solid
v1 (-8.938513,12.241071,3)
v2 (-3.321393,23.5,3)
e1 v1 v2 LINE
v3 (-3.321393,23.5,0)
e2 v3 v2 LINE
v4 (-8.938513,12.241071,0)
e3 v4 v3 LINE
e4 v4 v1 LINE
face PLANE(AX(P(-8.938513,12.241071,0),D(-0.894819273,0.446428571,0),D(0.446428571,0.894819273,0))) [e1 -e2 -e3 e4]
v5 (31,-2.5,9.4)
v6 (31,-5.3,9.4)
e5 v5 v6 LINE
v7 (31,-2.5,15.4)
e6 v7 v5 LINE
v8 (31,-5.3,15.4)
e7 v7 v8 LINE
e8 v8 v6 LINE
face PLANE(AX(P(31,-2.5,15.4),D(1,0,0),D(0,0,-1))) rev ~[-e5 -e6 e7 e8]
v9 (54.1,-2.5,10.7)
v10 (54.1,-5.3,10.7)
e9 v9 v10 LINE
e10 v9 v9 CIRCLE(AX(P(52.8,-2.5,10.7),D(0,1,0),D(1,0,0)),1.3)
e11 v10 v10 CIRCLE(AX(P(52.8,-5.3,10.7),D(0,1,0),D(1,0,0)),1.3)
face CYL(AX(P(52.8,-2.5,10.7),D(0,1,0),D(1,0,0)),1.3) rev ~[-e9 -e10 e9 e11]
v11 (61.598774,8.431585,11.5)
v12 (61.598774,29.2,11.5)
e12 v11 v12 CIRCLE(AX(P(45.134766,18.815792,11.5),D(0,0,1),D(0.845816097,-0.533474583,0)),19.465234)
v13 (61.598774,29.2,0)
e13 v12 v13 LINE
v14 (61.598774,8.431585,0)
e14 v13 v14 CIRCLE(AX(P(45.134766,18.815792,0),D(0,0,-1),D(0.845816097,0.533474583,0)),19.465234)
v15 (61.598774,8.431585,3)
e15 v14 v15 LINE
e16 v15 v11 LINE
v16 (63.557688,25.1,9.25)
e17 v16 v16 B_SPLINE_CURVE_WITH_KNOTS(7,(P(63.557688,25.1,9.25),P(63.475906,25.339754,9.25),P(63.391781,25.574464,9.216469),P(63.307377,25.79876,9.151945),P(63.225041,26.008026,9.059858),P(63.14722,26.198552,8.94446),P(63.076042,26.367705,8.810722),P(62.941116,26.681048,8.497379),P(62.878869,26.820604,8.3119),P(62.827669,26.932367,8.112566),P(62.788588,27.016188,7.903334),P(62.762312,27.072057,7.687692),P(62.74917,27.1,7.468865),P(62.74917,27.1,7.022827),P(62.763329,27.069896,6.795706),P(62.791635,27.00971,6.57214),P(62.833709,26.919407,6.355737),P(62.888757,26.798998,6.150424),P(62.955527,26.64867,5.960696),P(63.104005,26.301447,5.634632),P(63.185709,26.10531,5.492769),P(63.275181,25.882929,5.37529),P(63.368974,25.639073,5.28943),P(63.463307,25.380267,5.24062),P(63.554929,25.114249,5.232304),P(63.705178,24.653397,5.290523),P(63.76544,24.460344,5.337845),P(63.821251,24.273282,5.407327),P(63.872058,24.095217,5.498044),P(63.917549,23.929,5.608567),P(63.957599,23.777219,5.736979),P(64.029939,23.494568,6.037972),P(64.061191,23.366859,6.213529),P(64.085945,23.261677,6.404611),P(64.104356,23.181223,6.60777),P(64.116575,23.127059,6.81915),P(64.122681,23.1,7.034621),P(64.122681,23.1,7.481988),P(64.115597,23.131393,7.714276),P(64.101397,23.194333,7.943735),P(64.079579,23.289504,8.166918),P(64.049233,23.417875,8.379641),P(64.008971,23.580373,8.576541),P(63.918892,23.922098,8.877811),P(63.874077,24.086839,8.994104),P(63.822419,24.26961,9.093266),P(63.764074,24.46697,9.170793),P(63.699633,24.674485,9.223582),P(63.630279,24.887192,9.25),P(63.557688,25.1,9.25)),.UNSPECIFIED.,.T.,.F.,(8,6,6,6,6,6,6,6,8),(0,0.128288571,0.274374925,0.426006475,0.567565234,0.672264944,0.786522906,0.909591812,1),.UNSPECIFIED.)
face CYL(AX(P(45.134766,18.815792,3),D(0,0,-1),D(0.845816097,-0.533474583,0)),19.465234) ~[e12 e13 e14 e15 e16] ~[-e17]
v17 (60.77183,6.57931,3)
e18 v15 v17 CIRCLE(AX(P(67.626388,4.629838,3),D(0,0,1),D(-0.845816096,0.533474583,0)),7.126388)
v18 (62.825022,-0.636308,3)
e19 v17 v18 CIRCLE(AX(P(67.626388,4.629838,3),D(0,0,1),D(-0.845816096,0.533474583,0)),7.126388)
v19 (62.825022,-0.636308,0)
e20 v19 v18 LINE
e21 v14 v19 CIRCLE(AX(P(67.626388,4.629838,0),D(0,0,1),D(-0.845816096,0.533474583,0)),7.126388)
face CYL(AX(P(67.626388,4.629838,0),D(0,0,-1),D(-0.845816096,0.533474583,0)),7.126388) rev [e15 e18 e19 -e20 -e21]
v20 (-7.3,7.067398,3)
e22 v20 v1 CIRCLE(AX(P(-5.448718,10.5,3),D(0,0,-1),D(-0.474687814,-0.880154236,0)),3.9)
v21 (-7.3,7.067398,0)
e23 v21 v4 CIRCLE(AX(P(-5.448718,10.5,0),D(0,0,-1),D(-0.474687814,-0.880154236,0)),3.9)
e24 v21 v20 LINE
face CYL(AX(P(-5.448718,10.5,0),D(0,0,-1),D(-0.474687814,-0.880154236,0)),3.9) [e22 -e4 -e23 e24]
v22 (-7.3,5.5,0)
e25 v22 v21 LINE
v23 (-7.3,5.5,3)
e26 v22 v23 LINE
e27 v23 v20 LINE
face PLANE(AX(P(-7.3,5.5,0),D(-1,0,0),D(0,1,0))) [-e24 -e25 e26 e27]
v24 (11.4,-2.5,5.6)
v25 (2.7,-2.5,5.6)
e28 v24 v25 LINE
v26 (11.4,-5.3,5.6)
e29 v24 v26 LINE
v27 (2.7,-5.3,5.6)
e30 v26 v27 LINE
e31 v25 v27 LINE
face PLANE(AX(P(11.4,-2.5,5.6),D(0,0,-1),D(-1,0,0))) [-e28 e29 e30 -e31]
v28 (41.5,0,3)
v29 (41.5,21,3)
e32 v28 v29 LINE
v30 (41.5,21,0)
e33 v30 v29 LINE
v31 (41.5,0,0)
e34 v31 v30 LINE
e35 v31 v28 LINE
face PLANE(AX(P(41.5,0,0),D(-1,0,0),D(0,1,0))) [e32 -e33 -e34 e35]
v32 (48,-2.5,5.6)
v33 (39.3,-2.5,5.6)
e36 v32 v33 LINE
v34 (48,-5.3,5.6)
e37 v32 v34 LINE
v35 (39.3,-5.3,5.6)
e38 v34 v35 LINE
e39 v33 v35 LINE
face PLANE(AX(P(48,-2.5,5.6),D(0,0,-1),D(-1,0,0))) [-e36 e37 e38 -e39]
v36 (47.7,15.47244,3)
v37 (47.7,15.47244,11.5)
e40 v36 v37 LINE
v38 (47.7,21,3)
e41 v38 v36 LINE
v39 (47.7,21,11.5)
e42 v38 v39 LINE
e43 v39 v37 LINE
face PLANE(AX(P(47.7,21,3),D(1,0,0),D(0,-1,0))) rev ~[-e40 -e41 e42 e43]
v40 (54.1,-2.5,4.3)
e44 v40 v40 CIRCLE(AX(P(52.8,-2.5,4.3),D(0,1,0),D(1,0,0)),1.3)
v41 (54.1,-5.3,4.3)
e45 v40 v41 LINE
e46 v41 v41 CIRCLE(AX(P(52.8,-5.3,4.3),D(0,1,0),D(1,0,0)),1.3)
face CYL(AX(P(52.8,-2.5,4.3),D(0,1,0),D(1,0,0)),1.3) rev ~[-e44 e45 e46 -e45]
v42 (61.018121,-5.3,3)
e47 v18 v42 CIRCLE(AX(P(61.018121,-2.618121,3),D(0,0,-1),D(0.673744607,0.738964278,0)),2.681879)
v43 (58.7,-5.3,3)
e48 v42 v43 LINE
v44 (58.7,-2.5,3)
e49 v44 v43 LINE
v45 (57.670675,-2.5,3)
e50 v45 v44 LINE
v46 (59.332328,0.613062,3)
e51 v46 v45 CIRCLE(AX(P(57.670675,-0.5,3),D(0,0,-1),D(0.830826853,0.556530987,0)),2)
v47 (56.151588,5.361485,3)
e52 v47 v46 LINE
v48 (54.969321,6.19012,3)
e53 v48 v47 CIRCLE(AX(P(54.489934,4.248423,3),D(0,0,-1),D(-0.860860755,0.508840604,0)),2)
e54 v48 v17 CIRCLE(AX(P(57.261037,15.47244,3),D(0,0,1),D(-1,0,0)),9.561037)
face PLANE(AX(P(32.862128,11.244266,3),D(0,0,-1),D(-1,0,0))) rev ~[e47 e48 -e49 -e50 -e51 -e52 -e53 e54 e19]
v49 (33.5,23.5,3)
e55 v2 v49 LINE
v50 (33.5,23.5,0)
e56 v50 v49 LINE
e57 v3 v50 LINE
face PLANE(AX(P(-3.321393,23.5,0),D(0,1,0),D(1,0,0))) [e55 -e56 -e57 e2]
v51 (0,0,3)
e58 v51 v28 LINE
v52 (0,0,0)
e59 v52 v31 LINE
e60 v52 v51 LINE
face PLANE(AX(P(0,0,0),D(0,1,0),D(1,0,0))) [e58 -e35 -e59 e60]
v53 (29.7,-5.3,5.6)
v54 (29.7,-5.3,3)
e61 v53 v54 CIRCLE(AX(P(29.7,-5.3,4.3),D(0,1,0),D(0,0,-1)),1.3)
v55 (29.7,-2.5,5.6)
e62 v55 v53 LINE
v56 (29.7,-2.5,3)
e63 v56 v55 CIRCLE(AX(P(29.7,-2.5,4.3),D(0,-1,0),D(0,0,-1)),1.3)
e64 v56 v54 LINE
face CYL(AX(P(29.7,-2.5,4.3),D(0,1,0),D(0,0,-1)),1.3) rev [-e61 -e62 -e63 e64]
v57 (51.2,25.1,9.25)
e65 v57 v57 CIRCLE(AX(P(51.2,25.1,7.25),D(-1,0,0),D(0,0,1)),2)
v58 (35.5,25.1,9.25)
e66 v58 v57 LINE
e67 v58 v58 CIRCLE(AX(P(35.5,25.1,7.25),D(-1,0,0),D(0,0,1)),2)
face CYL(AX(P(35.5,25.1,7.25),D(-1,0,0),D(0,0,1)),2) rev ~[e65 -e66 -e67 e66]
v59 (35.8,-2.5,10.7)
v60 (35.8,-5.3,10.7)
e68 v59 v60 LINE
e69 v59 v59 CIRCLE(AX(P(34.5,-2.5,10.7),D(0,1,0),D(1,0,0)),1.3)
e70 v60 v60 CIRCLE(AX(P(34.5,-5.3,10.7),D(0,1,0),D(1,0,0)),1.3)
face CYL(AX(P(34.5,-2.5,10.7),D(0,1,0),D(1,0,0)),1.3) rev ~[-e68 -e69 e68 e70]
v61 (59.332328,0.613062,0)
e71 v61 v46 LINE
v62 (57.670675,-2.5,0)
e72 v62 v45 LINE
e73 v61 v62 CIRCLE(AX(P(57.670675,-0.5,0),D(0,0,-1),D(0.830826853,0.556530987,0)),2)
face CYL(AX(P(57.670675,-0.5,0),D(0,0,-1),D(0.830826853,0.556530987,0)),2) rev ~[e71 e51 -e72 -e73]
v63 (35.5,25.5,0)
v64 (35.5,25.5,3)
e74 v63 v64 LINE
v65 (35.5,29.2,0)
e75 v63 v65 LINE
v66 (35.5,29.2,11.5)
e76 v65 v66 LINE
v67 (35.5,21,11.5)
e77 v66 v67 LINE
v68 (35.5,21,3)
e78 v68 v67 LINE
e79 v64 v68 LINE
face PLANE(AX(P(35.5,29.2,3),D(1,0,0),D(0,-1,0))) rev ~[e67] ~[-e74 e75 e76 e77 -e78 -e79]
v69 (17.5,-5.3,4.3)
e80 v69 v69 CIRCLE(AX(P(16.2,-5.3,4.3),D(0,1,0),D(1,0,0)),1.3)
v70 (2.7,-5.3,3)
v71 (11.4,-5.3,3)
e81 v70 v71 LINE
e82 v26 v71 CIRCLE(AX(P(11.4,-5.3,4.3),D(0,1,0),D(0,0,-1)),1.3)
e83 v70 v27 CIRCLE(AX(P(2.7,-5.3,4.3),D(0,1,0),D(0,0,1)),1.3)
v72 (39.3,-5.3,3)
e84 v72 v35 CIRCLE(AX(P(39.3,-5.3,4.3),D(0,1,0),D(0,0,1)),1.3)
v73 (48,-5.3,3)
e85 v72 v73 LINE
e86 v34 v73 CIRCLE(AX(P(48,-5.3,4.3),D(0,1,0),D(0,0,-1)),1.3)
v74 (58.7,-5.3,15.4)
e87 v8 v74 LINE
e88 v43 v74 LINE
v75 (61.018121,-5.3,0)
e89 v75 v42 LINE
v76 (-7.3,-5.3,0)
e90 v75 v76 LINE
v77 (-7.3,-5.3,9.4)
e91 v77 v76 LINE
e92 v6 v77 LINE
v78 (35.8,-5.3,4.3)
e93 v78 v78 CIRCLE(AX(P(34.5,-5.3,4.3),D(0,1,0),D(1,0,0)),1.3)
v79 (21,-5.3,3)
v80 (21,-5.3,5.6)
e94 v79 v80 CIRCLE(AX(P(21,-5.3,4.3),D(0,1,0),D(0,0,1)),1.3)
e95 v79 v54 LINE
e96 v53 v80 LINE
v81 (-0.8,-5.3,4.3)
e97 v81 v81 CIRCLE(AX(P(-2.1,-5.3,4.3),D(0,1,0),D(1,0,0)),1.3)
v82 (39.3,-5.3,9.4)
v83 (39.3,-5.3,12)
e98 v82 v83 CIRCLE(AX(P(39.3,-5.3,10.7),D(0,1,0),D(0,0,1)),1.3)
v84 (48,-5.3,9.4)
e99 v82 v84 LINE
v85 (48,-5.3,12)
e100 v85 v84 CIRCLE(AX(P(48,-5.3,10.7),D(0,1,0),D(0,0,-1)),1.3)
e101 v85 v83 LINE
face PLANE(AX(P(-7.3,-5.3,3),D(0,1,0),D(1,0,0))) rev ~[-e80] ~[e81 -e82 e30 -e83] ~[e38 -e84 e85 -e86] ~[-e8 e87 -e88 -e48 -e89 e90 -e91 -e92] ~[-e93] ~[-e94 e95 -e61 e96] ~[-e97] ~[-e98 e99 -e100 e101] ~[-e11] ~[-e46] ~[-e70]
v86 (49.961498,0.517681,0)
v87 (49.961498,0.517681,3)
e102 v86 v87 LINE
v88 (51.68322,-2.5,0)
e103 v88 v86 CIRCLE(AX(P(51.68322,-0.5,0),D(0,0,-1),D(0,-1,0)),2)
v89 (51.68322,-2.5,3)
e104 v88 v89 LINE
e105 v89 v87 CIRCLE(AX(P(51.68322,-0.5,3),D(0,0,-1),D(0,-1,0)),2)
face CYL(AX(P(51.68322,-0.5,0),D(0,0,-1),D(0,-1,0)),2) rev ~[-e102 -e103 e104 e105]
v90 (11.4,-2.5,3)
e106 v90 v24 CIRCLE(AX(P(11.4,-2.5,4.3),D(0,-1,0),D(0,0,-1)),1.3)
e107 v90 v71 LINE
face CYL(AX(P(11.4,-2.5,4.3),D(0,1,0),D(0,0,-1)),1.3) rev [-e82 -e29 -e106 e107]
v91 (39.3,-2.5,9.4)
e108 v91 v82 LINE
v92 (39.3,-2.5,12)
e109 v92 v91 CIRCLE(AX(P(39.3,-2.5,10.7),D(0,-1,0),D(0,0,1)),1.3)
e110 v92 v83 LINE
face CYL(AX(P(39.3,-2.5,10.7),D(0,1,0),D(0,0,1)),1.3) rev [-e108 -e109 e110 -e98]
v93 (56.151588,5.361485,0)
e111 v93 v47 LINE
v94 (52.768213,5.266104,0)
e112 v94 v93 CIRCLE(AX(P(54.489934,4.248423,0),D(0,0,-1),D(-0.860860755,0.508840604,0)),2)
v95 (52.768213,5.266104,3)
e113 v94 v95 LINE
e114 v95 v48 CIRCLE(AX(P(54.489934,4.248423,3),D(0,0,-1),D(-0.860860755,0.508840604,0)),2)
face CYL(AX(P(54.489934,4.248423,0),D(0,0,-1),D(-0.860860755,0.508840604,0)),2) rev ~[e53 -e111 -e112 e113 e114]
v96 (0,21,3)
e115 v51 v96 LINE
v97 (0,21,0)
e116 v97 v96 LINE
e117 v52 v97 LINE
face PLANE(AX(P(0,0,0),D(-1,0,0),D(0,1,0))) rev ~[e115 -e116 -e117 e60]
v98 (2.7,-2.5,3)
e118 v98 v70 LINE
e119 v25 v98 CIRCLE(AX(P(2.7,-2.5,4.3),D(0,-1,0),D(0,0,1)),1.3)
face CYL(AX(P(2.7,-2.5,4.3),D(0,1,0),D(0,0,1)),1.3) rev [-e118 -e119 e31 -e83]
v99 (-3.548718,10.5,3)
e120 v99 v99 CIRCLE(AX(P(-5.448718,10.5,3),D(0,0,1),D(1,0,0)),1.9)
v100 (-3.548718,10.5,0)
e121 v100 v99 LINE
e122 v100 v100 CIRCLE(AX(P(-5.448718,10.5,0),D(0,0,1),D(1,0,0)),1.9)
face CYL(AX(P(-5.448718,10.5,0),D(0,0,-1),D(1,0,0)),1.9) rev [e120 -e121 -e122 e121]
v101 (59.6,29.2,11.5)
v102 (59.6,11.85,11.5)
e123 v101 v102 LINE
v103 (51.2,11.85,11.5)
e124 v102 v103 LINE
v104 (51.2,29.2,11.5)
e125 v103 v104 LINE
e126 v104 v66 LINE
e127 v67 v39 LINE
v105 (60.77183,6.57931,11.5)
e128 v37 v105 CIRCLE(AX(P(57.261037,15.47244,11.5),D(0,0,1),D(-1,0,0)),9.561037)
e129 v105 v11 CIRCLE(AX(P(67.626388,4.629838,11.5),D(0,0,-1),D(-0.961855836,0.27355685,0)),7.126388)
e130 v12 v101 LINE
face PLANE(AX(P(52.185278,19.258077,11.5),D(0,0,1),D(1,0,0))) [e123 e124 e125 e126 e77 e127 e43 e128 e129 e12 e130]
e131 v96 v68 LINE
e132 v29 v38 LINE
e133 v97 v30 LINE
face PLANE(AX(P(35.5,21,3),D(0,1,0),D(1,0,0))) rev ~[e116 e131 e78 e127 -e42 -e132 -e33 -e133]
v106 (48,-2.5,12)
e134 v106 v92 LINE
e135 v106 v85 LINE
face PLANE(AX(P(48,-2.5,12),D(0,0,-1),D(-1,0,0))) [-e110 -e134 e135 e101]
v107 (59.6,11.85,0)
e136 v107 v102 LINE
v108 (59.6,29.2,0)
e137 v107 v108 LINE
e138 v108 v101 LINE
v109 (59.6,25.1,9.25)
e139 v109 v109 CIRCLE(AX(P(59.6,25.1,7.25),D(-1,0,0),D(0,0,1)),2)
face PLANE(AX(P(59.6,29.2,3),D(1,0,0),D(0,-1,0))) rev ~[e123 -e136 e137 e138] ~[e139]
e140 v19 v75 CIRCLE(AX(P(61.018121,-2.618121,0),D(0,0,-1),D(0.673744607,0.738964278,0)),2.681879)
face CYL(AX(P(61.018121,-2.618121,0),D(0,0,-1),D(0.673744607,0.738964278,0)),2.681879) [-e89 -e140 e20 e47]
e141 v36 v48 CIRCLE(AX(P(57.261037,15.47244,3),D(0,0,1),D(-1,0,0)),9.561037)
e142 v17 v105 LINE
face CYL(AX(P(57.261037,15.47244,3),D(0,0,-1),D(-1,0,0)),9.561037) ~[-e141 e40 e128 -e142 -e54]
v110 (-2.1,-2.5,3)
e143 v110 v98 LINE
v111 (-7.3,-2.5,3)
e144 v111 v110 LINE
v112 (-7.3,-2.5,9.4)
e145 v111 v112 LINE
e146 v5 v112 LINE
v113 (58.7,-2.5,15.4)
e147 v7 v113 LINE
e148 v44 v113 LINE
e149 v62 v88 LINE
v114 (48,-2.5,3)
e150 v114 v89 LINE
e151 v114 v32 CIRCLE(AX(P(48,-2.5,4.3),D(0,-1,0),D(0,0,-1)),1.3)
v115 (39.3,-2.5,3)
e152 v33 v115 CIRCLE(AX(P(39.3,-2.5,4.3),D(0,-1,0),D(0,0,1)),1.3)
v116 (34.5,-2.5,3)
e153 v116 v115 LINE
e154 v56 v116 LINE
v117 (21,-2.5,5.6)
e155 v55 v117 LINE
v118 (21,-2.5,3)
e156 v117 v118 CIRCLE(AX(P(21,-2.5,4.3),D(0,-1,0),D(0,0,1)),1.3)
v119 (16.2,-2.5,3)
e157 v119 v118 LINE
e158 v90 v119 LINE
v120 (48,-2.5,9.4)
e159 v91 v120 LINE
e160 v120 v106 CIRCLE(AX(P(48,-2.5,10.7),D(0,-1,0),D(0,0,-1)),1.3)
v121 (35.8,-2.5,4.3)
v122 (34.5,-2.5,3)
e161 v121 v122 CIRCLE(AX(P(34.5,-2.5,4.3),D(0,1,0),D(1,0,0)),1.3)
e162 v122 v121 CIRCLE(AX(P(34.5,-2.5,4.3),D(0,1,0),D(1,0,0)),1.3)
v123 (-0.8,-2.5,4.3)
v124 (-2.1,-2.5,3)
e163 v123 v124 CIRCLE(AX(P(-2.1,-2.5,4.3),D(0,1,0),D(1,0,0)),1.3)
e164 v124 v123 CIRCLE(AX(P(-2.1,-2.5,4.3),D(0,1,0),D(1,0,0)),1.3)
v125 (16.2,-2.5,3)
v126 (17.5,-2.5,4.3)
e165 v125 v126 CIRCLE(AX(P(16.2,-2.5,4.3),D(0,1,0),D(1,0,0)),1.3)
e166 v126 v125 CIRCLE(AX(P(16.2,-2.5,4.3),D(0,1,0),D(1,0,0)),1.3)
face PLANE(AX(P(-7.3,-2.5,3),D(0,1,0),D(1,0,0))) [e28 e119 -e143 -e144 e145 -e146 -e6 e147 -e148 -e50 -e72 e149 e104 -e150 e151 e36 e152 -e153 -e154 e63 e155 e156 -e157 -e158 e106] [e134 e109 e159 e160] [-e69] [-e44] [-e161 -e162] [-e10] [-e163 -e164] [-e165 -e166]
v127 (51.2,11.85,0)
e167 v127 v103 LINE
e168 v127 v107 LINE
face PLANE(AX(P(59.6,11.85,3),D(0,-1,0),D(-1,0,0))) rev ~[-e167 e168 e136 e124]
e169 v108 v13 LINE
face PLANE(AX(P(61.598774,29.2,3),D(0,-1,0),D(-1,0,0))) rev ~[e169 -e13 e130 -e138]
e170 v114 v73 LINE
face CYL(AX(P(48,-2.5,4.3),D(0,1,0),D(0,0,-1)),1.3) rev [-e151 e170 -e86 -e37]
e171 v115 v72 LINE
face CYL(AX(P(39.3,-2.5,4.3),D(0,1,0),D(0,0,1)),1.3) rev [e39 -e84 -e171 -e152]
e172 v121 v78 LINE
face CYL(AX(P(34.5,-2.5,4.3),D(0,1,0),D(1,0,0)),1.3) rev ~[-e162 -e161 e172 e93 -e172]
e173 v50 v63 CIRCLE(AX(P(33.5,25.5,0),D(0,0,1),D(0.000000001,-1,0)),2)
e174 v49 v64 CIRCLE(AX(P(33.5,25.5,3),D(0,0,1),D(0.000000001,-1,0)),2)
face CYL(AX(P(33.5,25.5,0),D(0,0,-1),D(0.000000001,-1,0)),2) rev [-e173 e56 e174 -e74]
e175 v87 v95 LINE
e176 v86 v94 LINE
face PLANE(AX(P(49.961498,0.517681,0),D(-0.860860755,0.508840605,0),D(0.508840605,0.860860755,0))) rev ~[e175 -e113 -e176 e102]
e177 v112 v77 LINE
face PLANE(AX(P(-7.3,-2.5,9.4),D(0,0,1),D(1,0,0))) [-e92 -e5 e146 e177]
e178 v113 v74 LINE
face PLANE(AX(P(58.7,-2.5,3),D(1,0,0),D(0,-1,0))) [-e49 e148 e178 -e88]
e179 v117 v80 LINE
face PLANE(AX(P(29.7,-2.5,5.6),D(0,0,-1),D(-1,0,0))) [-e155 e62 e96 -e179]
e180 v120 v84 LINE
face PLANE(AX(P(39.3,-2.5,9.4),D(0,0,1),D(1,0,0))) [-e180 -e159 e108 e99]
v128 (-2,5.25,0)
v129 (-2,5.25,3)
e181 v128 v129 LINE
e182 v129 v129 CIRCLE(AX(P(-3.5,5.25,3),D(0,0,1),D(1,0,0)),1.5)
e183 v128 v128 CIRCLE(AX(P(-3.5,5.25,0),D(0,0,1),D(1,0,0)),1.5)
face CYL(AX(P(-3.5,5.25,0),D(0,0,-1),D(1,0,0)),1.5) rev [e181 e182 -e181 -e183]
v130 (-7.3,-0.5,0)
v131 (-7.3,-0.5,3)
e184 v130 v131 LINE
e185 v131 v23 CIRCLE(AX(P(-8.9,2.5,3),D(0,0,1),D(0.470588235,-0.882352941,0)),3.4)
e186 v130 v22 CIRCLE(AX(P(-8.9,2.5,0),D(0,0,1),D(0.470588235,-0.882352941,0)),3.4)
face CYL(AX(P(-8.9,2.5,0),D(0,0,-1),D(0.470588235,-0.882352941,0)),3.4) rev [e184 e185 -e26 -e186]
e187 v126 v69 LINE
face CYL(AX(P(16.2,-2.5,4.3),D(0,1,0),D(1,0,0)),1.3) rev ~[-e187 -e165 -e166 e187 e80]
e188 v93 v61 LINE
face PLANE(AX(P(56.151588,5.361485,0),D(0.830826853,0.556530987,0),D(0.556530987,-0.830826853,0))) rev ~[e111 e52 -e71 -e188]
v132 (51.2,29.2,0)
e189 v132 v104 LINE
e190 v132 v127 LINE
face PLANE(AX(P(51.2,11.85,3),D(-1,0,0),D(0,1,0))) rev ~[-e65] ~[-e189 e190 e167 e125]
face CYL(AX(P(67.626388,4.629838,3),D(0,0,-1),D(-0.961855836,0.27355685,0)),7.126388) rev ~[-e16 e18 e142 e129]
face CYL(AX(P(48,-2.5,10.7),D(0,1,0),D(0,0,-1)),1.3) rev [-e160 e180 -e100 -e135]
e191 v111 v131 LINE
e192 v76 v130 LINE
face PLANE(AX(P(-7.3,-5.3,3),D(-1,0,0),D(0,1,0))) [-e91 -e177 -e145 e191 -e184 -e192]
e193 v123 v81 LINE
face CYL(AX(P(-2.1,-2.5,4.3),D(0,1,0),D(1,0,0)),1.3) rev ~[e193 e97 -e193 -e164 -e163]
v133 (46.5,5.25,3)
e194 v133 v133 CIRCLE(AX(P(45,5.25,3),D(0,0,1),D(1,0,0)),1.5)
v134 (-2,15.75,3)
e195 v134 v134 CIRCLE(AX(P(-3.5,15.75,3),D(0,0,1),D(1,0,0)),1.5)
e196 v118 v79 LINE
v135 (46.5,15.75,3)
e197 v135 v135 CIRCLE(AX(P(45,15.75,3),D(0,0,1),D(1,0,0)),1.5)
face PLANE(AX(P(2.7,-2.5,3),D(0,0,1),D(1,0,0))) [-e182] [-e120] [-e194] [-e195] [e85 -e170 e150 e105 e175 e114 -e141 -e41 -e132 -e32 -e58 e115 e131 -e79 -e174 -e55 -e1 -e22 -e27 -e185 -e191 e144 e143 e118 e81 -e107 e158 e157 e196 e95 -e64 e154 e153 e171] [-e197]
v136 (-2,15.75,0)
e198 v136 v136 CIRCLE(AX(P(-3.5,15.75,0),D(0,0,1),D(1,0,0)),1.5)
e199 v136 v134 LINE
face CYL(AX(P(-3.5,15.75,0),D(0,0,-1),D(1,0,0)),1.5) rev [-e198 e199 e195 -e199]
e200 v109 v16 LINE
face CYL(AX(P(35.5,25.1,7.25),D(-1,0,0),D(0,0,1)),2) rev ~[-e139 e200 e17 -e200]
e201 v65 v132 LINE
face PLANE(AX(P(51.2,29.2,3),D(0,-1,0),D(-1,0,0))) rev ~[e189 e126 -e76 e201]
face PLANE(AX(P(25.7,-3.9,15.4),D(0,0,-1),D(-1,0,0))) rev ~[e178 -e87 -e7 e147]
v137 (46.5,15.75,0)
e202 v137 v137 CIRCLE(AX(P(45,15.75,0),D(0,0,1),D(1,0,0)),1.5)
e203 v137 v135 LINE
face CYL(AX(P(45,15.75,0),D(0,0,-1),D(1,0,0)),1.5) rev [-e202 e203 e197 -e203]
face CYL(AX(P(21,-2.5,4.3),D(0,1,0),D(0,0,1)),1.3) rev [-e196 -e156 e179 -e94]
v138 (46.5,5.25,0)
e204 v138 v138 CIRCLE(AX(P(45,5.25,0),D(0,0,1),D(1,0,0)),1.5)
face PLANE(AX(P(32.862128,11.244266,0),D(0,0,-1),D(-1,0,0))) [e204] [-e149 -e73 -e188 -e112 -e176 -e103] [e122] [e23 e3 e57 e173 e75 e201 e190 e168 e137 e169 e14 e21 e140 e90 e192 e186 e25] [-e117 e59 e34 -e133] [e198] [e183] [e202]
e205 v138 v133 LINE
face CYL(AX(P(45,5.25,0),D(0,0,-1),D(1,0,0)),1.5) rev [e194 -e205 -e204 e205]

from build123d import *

# Parameters (mm, degrees)
SKETCH1_R           = 1.5
SKETCH1_R_2         = 1.9
SKETCH1_W           = 41.5
SKETCH1_H           = 21
BOSS_EXTRUDE1_DEPTH = 3
BOSS_EXTRUDE2_DEPTH = 8.5
BOSS_EXTRUDE3_DEPTH = 12.4
SKETCH4_R           = 1.3
CUT_EXTRUDE1_DEPTH  = 12.4
SKETCH5_W           = 38.3
SKETCH5_H           = 6
CUT_EXTRUDE2_DEPTH  = 12.4
SKETCH6_R           = 2
CUT_EXTRUDE3_DEPTH  = 42.4


with BuildPart() as part:
    # Sketch1 → Boss-Extrude1 (new body)
    with BuildSketch(Plane.XY):
        with BuildLine():
            Line((-3.321392505, 23.5), (33.5, 23.5))
            ThreePointArc((33.5, 23.5), (34.914213562, 24.085786438), (35.5, 25.5))
            Line((35.5, 25.5), (35.5, 29.2))
            Line((35.5, 29.2), (51.2, 29.2))
            Line((51.2, 29.2), (51.2, 11.85))
            Line((51.2, 11.85), (59.6, 11.85))
            Line((59.6, 11.85), (59.6, 29.2))
            Line((59.6, 29.2), (61.598774259, 29.2))
            ThreePointArc((61.598774259, 29.2), (64.6, 18.815792472), (61.598774259, 8.431584945))
            ThreePointArc((61.598774259, 8.431584945), (60.564280065, 3.6748318), (62.825022394, -0.636307591))
            ThreePointArc((62.825022394, -0.636307591), (63.518866569, -3.587010054), (61.018120639, -5.3))
            Line((61.018120639, -5.3), (-7.3, -5.3))
            Line((-7.3, -5.3), (-7.3, -0.5))
            ThreePointArc((-7.3, -0.5), (-5.5, 2.5), (-7.3, 5.5))
            Line((-7.3, 5.5), (-7.3, 7.067398479))
            ThreePointArc((-7.3, 7.067398479), (-9.16671437, 9.322502878), (-8.93851269, 12.241071429))
            Line((-8.93851269, 12.241071429), (-3.321392505, 23.5))
        make_face()
        with Locations((-3.5, 15.75)):
            Circle(SKETCH1_R, mode=Mode.SUBTRACT)
        with Locations((-5.448717527, 10.5)):
            Circle(SKETCH1_R_2, mode=Mode.SUBTRACT)
        with Locations((-3.5, 5.25)):
            Circle(SKETCH1_R, mode=Mode.SUBTRACT)
        with Locations((45, 5.25)):
            Circle(SKETCH1_R, mode=Mode.SUBTRACT)
        with Locations((45, 15.75)):
            Circle(SKETCH1_R, mode=Mode.SUBTRACT)
        with Locations((20.75, 10.5)):
            Rectangle(SKETCH1_W, SKETCH1_H, mode=Mode.SUBTRACT)
        with BuildLine():
            Line((49.961498231, 0.517681209), (52.768212791, 5.266104179))
            ThreePointArc((52.768212791, 5.266104179), (54.433574671, 6.247628711), (56.151588007, 5.361484945))
            Line((56.151588007, 5.361484945), (59.33232839, 0.613061975))
            ThreePointArc((59.33232839, 0.613061975), (59.435061822, -1.441773872), (57.670674684, -2.5))
            Line((57.670674684, -2.5), (51.683219741, -2.5))
            ThreePointArc((51.683219741, -2.5), (49.946072306, -1.491119968), (49.961498231, 0.517681209))
        make_face(mode=Mode.SUBTRACT)
    extrude(amount=BOSS_EXTRUDE1_DEPTH)

    # Sketch2 → Boss-Extrude2 (add)
    with BuildSketch(Plane.XY.offset(3)):
        with BuildLine():
            Line((61.598774259, 29.2), (59.6, 29.2))
            Line((59.6, 29.2), (59.6, 11.85))
            Line((59.6, 11.85), (51.2, 11.85))
            Line((51.2, 11.85), (51.2, 29.2))
            Line((51.2, 29.2), (35.5, 29.2))
            Line((35.5, 29.2), (35.5, 21))
            Line((35.5, 21), (47.7, 21))
            Line((47.7, 21), (47.7, 15.472440326))
            ThreePointArc((47.7, 15.472440326), (51.882998061, 7.567370729), (60.771830096, 6.579310435))
            ThreePointArc((60.771830096, 6.579310435), (61.119060066, 7.535021345), (61.598774259, 8.431584945))
            ThreePointArc((61.598774259, 8.431584945), (64.6, 18.815792472), (61.598774259, 29.2))
        make_face()
    extrude(amount=BOSS_EXTRUDE2_DEPTH)

    # Sketch3 → Boss-Extrude3 (add)
    with BuildSketch(Plane.XY.offset(3)):
        Polygon((46.39680607, -5.3), (-7.3, -5.3), (-7.3, -2.5), (58.7, -2.5), (58.7, -5.3), align=None)
    extrude(amount=BOSS_EXTRUDE3_DEPTH)

    # Sketch4 → Cut-Extrude1 (cut)
    with BuildSketch(Plane(origin=(0, -2.5, 0), x_dir=(1, 0, 0), z_dir=(0, 1, 0))):
        with Locations((52.8, -4.3)):
            Circle(SKETCH4_R)
        with Locations((34.5, -4.3)):
            Circle(SKETCH4_R)
        with Locations((52.8, -10.7)):
            Circle(SKETCH4_R)
        with Locations((34.5, -10.7)):
            Circle(SKETCH4_R)
        with Locations((16.2, -10.7)):
            Circle(SKETCH4_R)
        with Locations((-2.1, -10.7)):
            Circle(SKETCH4_R)
        with Locations((16.2, -4.3)):
            Circle(SKETCH4_R)
        with Locations((-2.1, -4.3)):
            Circle(SKETCH4_R)
        with BuildLine():
            Line((48, -5.6), (39.3, -5.6))
            ThreePointArc((39.3, -5.6), (38, -4.3), (39.3, -3))
            Line((39.3, -3), (48, -3))
            ThreePointArc((48, -3), (49.3, -4.3), (48, -5.6))
        make_face()
        with BuildLine():
            Line((48, -12), (39.3, -12))
            ThreePointArc((39.3, -12), (38, -10.7), (39.3, -9.4))
            Line((39.3, -9.4), (48, -9.4))
            ThreePointArc((48, -9.4), (49.3, -10.7), (48, -12))
        make_face()
        with BuildLine():
            Line((29.7, -12), (21, -12))
            ThreePointArc((21, -12), (19.7, -10.7), (21, -9.4))
            Line((21, -9.4), (29.7, -9.4))
            ThreePointArc((29.7, -9.4), (31, -10.7), (29.7, -12))
        make_face()
        with BuildLine():
            Line((11.4, -12), (2.7, -12))
            ThreePointArc((2.7, -12), (1.4, -10.7), (2.7, -9.4))
            Line((2.7, -9.4), (11.4, -9.4))
            ThreePointArc((11.4, -9.4), (12.7, -10.7), (11.4, -12))
        make_face()
        with BuildLine():
            Line((29.7, -5.6), (21, -5.6))
            ThreePointArc((21, -5.6), (19.7, -4.3), (21, -3))
            Line((21, -3), (29.7, -3))
            ThreePointArc((29.7, -3), (31, -4.3), (29.7, -5.6))
        make_face()
        with BuildLine():
            Line((11.4, -5.6), (2.7, -5.6))
            ThreePointArc((2.7, -5.6), (1.4, -4.3), (2.7, -3))
            Line((2.7, -3), (11.4, -3))
            ThreePointArc((11.4, -3), (12.7, -4.3), (11.4, -5.6))
        make_face()
    extrude(amount=-CUT_EXTRUDE1_DEPTH, mode=Mode.SUBTRACT)

    # Sketch5 → Cut-Extrude2 (cut)
    with BuildSketch(Plane(origin=(0, -2.5, 0), x_dir=(1, 0, 0), z_dir=(0, 1, 0))):
        with Locations((11.85, -12.4)):
            Rectangle(SKETCH5_W, SKETCH5_H)
    extrude(amount=-CUT_EXTRUDE2_DEPTH, mode=Mode.SUBTRACT)

    # Sketch6 → Cut-Extrude3 (cut)
    with BuildSketch(Plane.ZY.offset(-35.5)):
        with Locations((7.25, 25.1)):
            Circle(SKETCH6_R)
    extrude(amount=-CUT_EXTRUDE3_DEPTH, mode=Mode.SUBTRACT)


solid = part.part
